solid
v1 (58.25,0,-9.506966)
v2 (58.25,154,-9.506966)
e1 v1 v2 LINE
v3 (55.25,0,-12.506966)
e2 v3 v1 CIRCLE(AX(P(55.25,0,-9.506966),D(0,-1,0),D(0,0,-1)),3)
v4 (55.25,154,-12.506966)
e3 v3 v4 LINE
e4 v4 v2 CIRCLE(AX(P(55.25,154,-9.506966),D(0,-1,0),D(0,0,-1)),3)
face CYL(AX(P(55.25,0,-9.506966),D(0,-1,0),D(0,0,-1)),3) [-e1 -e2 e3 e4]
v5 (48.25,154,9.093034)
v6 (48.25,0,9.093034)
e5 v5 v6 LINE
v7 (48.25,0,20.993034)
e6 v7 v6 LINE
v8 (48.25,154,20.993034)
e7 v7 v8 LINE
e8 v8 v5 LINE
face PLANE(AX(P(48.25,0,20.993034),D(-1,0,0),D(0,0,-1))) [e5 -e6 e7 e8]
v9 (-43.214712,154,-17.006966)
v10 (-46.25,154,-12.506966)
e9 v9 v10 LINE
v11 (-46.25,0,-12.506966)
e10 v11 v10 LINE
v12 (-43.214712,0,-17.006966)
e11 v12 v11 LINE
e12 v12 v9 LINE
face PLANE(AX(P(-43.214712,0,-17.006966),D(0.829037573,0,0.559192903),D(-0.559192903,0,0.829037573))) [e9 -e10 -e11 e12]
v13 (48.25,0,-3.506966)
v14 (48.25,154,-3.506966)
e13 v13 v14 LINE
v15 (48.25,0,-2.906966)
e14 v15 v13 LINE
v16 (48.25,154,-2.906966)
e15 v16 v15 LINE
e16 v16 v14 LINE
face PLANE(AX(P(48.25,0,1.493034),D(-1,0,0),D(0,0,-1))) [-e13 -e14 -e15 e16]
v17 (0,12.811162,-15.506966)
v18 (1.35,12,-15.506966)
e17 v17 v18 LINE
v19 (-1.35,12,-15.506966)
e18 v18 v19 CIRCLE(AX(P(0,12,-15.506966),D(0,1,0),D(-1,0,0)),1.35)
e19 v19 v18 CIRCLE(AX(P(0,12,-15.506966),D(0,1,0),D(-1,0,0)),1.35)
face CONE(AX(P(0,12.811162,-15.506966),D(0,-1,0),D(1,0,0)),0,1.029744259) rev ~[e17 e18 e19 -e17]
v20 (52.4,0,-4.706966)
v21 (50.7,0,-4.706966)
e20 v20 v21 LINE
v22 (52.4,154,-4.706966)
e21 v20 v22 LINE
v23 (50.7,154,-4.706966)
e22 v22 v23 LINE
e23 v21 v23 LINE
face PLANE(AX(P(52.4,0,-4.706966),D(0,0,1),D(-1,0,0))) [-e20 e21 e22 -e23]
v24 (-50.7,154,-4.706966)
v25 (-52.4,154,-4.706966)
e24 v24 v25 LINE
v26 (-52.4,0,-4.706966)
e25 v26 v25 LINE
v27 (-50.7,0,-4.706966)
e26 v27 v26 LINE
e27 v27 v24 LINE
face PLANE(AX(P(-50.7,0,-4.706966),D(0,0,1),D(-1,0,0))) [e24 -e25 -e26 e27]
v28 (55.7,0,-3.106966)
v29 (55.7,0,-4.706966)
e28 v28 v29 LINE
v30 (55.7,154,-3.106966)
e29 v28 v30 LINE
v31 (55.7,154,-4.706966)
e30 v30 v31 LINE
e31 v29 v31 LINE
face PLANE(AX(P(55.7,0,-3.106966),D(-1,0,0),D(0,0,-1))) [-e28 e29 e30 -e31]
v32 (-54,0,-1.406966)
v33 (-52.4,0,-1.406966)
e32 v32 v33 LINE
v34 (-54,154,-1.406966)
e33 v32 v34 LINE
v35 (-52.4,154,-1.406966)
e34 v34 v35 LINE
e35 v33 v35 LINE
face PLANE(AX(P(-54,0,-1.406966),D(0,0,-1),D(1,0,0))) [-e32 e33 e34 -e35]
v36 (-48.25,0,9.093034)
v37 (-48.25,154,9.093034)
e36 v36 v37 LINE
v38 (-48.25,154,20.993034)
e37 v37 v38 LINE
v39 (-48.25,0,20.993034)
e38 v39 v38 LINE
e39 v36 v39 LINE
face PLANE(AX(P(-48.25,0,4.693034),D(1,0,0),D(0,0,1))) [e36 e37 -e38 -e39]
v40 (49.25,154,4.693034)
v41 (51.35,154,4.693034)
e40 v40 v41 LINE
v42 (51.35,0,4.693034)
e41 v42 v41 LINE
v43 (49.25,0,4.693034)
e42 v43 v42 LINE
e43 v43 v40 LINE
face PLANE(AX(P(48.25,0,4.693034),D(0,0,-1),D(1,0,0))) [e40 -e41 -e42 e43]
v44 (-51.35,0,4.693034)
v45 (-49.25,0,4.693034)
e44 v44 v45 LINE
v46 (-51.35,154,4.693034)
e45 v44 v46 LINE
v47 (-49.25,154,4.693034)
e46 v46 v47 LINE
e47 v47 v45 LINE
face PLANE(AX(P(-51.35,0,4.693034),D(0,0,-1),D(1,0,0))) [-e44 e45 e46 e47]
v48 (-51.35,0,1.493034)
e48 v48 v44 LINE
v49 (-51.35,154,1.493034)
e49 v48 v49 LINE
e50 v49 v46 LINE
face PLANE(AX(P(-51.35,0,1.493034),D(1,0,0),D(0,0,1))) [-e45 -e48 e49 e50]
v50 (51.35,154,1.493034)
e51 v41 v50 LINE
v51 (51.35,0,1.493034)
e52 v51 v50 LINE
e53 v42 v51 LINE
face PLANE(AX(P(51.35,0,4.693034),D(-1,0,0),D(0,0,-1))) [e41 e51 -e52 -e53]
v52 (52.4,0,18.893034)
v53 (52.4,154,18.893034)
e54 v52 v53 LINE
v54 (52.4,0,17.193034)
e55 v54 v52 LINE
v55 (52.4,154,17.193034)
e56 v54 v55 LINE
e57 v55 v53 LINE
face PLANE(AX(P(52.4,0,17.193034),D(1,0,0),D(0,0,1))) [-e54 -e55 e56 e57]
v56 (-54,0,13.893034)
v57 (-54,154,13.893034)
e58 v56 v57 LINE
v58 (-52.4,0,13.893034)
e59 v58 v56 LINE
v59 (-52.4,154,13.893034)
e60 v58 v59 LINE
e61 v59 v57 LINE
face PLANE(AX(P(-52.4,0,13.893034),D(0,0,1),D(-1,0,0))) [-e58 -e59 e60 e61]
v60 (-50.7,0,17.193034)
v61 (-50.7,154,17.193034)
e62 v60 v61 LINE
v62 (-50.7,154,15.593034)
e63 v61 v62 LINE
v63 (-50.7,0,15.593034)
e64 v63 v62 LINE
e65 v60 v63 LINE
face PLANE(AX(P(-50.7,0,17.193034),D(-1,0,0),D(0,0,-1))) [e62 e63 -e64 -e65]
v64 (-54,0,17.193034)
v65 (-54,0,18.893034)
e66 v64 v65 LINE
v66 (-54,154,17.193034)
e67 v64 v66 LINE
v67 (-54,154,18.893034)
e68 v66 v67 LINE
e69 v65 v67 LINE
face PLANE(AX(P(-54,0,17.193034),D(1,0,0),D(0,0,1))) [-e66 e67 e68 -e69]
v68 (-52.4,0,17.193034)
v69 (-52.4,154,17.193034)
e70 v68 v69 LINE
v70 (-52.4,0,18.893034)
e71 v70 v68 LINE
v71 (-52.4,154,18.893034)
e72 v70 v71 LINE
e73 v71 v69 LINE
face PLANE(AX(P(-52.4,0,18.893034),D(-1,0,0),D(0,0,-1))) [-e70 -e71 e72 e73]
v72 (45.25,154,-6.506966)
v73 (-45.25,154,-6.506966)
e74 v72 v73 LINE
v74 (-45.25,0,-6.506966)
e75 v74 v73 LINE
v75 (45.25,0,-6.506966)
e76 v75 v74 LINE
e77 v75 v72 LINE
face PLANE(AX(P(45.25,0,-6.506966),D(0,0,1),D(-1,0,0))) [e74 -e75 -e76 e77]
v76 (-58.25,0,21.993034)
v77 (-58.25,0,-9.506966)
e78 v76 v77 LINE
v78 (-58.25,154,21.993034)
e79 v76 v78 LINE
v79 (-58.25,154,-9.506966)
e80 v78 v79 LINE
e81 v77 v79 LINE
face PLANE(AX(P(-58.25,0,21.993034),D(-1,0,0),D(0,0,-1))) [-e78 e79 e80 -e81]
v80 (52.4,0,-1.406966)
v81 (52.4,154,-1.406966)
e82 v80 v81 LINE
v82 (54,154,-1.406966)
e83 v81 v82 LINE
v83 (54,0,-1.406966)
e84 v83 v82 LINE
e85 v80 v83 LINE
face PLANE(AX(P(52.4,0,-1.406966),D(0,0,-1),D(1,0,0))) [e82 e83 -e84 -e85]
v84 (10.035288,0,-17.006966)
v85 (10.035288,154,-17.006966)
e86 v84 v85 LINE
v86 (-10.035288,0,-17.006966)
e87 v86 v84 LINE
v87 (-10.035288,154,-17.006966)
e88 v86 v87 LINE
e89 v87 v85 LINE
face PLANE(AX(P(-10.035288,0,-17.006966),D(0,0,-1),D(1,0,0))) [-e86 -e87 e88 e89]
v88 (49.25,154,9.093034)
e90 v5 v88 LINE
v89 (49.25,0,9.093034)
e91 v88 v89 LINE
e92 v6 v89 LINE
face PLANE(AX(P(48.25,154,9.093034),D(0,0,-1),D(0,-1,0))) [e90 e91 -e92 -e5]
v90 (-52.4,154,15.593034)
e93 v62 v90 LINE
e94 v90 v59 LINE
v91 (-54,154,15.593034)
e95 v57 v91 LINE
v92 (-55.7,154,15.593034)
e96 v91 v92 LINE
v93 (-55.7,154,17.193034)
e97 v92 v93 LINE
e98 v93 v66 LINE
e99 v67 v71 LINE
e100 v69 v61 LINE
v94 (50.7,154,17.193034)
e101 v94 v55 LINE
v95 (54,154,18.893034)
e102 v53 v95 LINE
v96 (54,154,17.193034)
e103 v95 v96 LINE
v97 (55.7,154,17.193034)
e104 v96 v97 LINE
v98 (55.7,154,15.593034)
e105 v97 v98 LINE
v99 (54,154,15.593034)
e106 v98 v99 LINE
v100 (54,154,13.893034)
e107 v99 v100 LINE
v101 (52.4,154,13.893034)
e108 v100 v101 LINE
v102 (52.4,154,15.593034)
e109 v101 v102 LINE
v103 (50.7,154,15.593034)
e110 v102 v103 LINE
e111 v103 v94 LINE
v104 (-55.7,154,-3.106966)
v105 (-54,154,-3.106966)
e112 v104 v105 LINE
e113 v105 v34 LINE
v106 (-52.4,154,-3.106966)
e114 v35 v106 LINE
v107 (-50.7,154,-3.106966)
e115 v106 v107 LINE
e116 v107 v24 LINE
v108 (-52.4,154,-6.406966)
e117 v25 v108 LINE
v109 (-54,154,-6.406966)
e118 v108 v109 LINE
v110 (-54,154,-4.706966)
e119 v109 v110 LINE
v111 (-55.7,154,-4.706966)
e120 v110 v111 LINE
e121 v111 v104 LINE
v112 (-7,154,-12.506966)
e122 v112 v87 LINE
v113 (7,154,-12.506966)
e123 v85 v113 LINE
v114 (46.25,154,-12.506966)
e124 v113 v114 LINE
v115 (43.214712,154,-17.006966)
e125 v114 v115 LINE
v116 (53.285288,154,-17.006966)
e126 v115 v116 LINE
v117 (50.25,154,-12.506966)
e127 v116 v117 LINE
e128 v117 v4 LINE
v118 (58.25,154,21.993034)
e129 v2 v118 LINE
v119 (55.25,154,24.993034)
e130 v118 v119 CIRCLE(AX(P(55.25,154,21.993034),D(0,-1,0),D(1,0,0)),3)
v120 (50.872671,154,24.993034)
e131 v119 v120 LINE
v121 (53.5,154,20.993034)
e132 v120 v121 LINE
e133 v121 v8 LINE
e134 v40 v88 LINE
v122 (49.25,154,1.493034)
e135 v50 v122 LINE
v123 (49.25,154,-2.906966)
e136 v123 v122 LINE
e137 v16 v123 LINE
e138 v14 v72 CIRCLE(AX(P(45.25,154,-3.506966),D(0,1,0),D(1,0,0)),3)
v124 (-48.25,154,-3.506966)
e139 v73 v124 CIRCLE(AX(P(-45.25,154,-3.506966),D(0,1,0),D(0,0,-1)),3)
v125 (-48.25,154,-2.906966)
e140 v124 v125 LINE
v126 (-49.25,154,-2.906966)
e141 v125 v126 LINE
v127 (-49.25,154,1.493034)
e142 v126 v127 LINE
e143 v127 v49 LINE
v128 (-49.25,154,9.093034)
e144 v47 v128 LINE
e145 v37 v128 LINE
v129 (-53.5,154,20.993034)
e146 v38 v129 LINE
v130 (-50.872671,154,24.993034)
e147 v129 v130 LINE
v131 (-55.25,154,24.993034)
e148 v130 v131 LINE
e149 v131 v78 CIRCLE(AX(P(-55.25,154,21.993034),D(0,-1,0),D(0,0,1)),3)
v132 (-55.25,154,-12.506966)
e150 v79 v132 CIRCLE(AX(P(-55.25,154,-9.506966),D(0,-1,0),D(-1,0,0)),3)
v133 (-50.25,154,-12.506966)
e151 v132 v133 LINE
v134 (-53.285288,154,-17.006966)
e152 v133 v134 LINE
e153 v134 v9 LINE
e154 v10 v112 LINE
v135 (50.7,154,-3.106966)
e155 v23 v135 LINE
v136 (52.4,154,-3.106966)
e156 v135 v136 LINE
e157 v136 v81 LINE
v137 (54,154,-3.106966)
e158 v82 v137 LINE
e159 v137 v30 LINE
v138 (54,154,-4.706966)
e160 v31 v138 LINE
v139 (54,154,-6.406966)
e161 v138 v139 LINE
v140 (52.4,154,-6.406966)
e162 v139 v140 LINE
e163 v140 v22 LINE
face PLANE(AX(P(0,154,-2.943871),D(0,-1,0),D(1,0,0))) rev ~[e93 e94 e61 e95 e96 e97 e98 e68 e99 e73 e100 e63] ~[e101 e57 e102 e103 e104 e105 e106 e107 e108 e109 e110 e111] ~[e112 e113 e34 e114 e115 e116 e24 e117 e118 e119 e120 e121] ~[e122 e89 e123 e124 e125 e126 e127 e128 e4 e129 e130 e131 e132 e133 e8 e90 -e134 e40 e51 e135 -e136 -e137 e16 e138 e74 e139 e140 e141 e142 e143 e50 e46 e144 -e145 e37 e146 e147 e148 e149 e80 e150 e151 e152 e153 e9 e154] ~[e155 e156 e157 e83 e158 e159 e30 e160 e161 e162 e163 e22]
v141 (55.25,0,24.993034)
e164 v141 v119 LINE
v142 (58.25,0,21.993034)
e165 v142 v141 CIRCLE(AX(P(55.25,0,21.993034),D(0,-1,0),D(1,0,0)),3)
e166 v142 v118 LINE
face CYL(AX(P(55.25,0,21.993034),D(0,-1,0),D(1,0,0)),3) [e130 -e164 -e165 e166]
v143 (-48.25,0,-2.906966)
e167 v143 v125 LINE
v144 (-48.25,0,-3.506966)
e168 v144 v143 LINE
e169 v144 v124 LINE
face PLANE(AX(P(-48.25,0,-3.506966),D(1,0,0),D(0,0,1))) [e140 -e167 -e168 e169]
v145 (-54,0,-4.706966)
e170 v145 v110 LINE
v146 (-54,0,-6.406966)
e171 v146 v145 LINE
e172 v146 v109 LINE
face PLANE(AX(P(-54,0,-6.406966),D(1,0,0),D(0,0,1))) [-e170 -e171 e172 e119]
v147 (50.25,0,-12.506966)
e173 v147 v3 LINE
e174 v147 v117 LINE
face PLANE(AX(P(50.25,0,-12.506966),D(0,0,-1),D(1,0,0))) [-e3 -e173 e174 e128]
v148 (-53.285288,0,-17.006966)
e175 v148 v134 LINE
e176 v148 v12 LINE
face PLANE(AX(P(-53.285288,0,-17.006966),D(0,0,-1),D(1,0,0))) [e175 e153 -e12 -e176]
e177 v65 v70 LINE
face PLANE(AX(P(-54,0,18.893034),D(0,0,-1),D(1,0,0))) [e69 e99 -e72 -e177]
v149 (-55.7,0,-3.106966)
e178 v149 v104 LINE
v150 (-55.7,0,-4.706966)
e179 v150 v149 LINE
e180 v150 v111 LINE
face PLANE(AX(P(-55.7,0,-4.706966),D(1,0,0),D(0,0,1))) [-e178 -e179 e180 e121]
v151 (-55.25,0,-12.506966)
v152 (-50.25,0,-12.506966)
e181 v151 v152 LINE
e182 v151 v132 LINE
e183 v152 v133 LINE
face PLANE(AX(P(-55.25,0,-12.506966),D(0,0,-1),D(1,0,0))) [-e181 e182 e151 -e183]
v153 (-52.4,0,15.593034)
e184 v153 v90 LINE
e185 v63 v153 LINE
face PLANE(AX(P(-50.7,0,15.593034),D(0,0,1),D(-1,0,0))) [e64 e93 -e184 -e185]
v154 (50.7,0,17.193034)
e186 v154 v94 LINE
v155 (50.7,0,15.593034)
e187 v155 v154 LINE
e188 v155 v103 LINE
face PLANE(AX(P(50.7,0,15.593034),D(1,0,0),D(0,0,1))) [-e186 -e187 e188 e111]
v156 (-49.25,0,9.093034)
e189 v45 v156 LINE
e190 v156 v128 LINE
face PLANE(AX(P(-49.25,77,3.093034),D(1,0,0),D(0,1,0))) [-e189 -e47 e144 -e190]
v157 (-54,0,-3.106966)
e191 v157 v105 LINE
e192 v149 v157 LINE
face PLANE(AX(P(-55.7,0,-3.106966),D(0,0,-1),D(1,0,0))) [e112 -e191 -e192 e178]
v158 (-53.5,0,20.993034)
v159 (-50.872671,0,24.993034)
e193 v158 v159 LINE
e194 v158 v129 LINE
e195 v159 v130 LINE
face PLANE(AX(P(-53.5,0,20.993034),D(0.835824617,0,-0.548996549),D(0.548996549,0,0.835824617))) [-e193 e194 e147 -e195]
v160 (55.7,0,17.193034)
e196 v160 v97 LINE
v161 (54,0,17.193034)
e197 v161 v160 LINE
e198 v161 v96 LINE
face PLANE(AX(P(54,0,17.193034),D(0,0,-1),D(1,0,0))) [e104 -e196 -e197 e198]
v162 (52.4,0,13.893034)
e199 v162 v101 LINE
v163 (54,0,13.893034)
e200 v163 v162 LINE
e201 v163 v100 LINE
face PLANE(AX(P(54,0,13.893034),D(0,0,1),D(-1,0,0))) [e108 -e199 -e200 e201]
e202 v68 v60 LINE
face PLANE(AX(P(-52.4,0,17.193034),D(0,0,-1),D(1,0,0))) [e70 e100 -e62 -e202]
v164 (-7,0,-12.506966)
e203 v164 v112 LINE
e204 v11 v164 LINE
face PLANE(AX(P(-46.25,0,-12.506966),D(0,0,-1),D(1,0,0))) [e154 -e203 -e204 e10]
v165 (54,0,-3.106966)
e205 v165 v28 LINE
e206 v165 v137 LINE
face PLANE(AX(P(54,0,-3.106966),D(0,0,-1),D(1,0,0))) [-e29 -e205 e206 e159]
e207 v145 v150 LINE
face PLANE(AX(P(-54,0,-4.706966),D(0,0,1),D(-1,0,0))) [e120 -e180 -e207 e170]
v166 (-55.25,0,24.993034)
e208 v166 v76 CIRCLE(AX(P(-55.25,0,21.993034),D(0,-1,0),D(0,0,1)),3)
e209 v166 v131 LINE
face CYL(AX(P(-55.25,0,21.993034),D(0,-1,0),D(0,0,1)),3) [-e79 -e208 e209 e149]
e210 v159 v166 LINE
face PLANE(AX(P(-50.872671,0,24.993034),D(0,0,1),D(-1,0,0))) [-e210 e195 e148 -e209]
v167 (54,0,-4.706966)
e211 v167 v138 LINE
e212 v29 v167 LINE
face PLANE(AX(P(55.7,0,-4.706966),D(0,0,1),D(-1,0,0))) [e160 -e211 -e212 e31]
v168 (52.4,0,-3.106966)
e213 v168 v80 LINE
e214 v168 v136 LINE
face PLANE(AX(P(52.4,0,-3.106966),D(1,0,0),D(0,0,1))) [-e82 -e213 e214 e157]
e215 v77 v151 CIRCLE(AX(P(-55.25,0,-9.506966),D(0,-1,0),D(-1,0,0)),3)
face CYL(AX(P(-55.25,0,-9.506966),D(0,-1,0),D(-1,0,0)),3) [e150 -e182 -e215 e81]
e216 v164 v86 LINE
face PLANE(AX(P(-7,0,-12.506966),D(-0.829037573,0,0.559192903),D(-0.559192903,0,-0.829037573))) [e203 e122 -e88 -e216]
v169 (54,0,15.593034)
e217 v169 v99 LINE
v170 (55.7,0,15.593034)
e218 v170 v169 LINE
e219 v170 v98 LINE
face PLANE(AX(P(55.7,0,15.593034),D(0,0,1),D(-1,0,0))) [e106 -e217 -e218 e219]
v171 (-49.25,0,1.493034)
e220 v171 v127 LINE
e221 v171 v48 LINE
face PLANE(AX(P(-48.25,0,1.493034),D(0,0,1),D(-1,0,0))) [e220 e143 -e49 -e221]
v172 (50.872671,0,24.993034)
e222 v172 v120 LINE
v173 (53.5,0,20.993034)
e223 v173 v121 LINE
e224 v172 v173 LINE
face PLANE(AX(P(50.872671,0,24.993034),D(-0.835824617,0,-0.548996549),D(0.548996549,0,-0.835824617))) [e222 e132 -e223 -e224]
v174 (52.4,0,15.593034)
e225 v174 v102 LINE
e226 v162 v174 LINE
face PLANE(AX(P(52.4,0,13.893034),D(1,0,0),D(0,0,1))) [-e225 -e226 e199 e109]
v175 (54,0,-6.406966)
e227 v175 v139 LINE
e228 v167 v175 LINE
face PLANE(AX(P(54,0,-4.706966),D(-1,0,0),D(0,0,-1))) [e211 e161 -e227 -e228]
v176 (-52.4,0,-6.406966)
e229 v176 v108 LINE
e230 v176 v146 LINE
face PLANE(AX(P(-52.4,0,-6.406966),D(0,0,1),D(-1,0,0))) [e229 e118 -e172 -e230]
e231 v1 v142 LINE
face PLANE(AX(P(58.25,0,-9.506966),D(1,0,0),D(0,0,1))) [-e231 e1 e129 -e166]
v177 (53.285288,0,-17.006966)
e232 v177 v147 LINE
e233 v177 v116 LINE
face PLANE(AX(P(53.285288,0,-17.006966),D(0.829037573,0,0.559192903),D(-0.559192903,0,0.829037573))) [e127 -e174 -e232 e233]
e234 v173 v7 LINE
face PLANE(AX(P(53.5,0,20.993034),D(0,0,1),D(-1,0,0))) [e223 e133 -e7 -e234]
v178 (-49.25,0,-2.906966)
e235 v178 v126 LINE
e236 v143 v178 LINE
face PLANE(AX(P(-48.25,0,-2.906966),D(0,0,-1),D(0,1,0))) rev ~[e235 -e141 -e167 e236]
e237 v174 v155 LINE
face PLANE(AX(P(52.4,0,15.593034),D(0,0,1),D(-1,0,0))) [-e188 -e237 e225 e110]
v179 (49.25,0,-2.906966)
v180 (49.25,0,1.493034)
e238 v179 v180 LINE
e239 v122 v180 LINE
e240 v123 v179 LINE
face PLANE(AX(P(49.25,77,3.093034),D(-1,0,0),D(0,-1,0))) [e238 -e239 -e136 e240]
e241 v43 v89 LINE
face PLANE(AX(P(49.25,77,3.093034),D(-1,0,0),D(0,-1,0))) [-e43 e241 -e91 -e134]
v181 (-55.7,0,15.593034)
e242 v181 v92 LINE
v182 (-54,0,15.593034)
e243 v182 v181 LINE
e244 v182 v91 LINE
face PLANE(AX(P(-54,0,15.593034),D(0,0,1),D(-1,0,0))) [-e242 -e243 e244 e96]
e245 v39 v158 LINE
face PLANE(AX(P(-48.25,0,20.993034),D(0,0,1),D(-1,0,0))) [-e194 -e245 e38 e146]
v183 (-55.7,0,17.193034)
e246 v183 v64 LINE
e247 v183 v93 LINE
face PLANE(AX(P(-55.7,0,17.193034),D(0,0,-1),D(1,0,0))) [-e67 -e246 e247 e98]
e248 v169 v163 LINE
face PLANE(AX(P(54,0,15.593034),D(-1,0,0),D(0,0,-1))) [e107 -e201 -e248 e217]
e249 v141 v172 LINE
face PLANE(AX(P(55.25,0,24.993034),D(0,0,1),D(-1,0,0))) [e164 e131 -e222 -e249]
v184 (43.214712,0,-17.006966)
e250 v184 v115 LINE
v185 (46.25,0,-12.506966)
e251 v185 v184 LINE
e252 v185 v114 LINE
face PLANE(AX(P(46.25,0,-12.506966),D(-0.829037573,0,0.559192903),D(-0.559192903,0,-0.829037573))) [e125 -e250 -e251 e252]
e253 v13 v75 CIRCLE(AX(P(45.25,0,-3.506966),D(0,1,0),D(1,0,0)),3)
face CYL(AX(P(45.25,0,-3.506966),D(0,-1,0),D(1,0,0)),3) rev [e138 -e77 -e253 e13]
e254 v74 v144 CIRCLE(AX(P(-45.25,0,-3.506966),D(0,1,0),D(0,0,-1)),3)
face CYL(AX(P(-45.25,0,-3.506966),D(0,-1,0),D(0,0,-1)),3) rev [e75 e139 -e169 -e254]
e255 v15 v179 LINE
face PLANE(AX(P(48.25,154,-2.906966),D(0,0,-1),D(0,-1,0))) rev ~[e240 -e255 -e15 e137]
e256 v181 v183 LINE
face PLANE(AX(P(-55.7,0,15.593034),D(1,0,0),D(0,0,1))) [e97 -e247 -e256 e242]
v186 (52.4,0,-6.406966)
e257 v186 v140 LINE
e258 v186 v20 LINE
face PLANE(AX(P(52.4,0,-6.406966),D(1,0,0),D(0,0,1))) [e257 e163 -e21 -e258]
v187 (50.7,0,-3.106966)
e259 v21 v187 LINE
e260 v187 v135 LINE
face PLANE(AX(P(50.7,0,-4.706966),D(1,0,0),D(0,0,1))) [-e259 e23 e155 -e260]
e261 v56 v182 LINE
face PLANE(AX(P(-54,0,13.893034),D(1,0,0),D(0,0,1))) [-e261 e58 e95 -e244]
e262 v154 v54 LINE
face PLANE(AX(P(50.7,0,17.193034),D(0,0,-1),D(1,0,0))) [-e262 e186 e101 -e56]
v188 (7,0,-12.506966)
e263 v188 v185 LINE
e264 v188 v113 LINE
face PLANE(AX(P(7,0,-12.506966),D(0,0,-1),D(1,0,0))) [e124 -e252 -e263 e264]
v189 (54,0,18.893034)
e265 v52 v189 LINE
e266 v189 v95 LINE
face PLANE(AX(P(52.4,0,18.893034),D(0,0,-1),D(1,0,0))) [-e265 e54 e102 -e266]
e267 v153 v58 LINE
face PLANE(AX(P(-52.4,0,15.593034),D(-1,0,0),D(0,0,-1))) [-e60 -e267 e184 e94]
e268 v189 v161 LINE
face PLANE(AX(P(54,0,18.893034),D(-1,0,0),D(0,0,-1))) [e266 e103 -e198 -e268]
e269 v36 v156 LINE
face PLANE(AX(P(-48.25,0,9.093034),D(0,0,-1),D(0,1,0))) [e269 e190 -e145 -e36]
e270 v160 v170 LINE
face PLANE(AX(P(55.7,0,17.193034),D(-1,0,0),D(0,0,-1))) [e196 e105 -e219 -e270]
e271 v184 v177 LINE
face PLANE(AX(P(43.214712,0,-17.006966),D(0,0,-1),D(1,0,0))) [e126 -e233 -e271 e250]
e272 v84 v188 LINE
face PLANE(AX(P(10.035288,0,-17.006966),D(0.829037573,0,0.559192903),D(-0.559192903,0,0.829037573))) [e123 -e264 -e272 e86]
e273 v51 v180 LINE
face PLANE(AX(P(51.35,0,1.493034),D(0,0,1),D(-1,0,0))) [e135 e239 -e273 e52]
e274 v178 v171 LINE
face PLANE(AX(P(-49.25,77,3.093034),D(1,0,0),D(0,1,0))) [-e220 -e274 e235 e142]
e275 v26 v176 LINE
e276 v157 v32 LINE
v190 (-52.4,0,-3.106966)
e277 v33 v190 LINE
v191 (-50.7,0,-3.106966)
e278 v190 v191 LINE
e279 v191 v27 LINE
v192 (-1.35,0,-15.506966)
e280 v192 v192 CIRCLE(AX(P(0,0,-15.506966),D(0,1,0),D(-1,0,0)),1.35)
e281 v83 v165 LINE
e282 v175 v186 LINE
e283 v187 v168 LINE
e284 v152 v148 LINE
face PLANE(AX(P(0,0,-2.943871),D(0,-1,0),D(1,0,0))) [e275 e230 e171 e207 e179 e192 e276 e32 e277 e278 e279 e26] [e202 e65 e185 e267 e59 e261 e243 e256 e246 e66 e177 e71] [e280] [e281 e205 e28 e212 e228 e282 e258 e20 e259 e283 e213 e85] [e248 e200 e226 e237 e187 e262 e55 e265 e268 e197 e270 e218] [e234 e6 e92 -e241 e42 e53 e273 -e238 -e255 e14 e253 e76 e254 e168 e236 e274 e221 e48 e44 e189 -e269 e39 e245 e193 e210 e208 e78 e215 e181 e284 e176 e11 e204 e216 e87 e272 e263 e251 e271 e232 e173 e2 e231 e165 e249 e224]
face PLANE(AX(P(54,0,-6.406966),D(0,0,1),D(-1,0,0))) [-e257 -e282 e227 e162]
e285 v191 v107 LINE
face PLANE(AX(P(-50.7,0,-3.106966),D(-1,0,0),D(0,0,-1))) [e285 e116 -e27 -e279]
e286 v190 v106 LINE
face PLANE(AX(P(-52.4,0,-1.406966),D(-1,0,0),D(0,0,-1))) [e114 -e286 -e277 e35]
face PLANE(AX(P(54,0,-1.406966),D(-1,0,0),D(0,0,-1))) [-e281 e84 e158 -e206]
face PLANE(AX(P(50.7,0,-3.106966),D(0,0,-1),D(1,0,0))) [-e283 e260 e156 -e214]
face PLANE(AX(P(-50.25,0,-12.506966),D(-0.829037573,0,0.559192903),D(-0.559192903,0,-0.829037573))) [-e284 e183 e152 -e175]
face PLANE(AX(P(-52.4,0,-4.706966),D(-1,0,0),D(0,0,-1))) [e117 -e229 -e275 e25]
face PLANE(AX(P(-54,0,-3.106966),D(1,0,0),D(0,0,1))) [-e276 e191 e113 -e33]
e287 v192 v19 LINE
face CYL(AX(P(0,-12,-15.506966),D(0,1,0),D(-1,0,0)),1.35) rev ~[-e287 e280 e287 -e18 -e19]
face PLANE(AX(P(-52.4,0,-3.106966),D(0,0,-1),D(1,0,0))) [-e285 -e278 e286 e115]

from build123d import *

# Parameters (mm, degrees)
F1_DEPTH = 154
F3_D     = 2.7
F3_DEPTH = 12
F3_TIP   = 0.8111618357
F4_W     = 154
F4_H     = 12
F5_DEPTH = 1
F6_W     = 154
F6_H     = 12
F7_DEPTH = 1


with BuildPart() as f1:
    # F0 (on Front) → F1 (new body)
    with BuildSketch(Plane.XZ):
        with BuildLine():
            Line((-10.0352883258, -17.0069661875), (0, -17.0069661875))
            Line((0, -17.0069661875), (10.0352883258, -17.0069661875))
            Line((10.0352883258, -17.0069661875), (7, -12.5069661875))
            Line((7, -12.5069661875), (46.25, -12.5069661875))
            Line((46.25, -12.5069661875), (43.2147116742, -17.0069661875))
            Line((43.2147116742, -17.0069661875), (53.2852883258, -17.0069661875))
            Line((53.2852883258, -17.0069661875), (50.25, -12.5069661875))
            Line((50.25, -12.5069661875), (55.25, -12.5069661875))
            ThreePointArc((55.25, -12.5069661875), (57.3713203436, -11.6282865311), (58.25, -9.5069661875))
            Line((58.25, -9.5069661875), (58.25, 21.9930338125))
            ThreePointArc((58.25, 21.9930338125), (57.3713203436, 24.114354156), (55.25, 24.9930338125))
            Line((55.25, 24.9930338125), (50.8726710718, 24.9930338125))
            Line((50.8726710718, 24.9930338125), (53.5, 20.9930338125))
            Line((53.5, 20.9930338125), (48.25, 20.9930338125))
            Line((48.25, 20.9930338125), (48.25, 4.6930338125))
            Line((48.25, 4.6930338125), (51.35, 4.6930338125))
            Line((51.35, 4.6930338125), (51.35, 1.4930338125))
            Line((51.35, 1.4930338125), (48.25, 1.4930338125))
            Line((48.25, 1.4930338125), (48.25, -3.5069661875))
            ThreePointArc((48.25, -3.5069661875), (47.3713203436, -5.6282865311), (45.25, -6.5069661875))
            Line((45.25, -6.5069661875), (0, -6.5069661875))
            Line((0, -6.5069661875), (-45.25, -6.5069661875))
            ThreePointArc((-45.25, -6.5069661875), (-47.3713203436, -5.6282865311), (-48.25, -3.5069661875))
            Line((-48.25, -3.5069661875), (-48.25, 1.4930338125))
            Line((-48.25, 1.4930338125), (-51.35, 1.4930338125))
            Line((-51.35, 1.4930338125), (-51.35, 4.6930338125))
            Line((-51.35, 4.6930338125), (-48.25, 4.6930338125))
            Line((-48.25, 4.6930338125), (-48.25, 20.9930338125))
            Line((-48.25, 20.9930338125), (-53.5, 20.9930338125))
            Line((-53.5, 20.9930338125), (-50.8726710718, 24.9930338125))
            Line((-50.8726710718, 24.9930338125), (-55.25, 24.9930338125))
            ThreePointArc((-55.25, 24.9930338125), (-57.3713203436, 24.114354156), (-58.25, 21.9930338125))
            Line((-58.25, 21.9930338125), (-58.25, -9.5069661875))
            ThreePointArc((-58.25, -9.5069661875), (-57.3713203436, -11.6282865311), (-55.25, -12.5069661875))
            Line((-55.25, -12.5069661875), (-50.25, -12.5069661875))
            Line((-50.25, -12.5069661875), (-53.2852883258, -17.0069661875))
            Line((-53.2852883258, -17.0069661875), (-43.2147116742, -17.0069661875))
            Line((-43.2147116742, -17.0069661875), (-46.25, -12.5069661875))
            Line((-46.25, -12.5069661875), (-7, -12.5069661875))
            Line((-7, -12.5069661875), (-10.0352883258, -17.0069661875))
        make_face()
        Polygon((-54, -3.1069661875), (-54, -1.4069661875), (-52.4, -1.4069661875), (-52.4, -3.1069661875), (-50.7, -3.1069661875), (-50.7, -4.7069661875), (-52.4, -4.7069661875), (-52.4, -6.4069661875), (-54, -6.4069661875), (-54, -4.7069661875), (-55.7, -4.7069661875), (-55.7, -3.1069661875), align=None, mode=Mode.SUBTRACT)
        Polygon((52.4, -1.4069661875), (54, -1.4069661875), (54, -3.1069661875), (55.7, -3.1069661875), (55.7, -4.7069661875), (54, -4.7069661875), (54, -6.4069661875), (52.4, -6.4069661875), (52.4, -4.7069661875), (50.7, -4.7069661875), (50.7, -3.1069661875), (52.4, -3.1069661875), align=None, mode=Mode.SUBTRACT)
        Polygon((-55.7, 15.5930338125), (-55.7, 17.1930338125), (-54, 17.1930338125), (-54, 18.8930338125), (-52.4, 18.8930338125), (-52.4, 17.1930338125), (-50.7, 17.1930338125), (-50.7, 15.5930338125), (-52.4, 15.5930338125), (-52.4, 13.8930338125), (-54, 13.8930338125), (-54, 15.5930338125), align=None, mode=Mode.SUBTRACT)
        Polygon((54, 18.8930338125), (54, 17.1930338125), (55.7, 17.1930338125), (55.7, 15.5930338125), (54, 15.5930338125), (54, 13.8930338125), (52.4, 13.8930338125), (52.4, 15.5930338125), (50.7, 15.5930338125), (50.7, 17.1930338125), (52.4, 17.1930338125), (52.4, 18.8930338125), align=None, mode=Mode.SUBTRACT)
    extrude(amount=-F1_DEPTH)

    # F3
    with Locations(Plane.XZ):
        with Locations((0, -15.5069661875)):
            Hole(F3_D / 2, depth=F3_DEPTH)
            with Locations((0, 0, -(F3_DEPTH + F3_TIP / 2))):  # 118° drill point
                Cone(0, F3_D / 2, F3_TIP, mode=Mode.SUBTRACT)

    # F4 (on face) → F5 (cut)
    with BuildSketch(Plane.YZ.offset(-48.25)):
        with Locations((77, 3.0930338125)):
            Rectangle(F4_W, F4_H)
    extrude(amount=-F5_DEPTH, mode=Mode.SUBTRACT)

    # F6 (on face) → F7 (cut)
    with BuildSketch(Plane(origin=(48.25, 0, 0), x_dir=(0, -1, 0), z_dir=(-1, 0, 0))):
        with Locations((-77, 3.0930338125)):
            Rectangle(F6_W, F6_H)
    extrude(amount=-F7_DEPTH, mode=Mode.SUBTRACT)


solid = f1.part
